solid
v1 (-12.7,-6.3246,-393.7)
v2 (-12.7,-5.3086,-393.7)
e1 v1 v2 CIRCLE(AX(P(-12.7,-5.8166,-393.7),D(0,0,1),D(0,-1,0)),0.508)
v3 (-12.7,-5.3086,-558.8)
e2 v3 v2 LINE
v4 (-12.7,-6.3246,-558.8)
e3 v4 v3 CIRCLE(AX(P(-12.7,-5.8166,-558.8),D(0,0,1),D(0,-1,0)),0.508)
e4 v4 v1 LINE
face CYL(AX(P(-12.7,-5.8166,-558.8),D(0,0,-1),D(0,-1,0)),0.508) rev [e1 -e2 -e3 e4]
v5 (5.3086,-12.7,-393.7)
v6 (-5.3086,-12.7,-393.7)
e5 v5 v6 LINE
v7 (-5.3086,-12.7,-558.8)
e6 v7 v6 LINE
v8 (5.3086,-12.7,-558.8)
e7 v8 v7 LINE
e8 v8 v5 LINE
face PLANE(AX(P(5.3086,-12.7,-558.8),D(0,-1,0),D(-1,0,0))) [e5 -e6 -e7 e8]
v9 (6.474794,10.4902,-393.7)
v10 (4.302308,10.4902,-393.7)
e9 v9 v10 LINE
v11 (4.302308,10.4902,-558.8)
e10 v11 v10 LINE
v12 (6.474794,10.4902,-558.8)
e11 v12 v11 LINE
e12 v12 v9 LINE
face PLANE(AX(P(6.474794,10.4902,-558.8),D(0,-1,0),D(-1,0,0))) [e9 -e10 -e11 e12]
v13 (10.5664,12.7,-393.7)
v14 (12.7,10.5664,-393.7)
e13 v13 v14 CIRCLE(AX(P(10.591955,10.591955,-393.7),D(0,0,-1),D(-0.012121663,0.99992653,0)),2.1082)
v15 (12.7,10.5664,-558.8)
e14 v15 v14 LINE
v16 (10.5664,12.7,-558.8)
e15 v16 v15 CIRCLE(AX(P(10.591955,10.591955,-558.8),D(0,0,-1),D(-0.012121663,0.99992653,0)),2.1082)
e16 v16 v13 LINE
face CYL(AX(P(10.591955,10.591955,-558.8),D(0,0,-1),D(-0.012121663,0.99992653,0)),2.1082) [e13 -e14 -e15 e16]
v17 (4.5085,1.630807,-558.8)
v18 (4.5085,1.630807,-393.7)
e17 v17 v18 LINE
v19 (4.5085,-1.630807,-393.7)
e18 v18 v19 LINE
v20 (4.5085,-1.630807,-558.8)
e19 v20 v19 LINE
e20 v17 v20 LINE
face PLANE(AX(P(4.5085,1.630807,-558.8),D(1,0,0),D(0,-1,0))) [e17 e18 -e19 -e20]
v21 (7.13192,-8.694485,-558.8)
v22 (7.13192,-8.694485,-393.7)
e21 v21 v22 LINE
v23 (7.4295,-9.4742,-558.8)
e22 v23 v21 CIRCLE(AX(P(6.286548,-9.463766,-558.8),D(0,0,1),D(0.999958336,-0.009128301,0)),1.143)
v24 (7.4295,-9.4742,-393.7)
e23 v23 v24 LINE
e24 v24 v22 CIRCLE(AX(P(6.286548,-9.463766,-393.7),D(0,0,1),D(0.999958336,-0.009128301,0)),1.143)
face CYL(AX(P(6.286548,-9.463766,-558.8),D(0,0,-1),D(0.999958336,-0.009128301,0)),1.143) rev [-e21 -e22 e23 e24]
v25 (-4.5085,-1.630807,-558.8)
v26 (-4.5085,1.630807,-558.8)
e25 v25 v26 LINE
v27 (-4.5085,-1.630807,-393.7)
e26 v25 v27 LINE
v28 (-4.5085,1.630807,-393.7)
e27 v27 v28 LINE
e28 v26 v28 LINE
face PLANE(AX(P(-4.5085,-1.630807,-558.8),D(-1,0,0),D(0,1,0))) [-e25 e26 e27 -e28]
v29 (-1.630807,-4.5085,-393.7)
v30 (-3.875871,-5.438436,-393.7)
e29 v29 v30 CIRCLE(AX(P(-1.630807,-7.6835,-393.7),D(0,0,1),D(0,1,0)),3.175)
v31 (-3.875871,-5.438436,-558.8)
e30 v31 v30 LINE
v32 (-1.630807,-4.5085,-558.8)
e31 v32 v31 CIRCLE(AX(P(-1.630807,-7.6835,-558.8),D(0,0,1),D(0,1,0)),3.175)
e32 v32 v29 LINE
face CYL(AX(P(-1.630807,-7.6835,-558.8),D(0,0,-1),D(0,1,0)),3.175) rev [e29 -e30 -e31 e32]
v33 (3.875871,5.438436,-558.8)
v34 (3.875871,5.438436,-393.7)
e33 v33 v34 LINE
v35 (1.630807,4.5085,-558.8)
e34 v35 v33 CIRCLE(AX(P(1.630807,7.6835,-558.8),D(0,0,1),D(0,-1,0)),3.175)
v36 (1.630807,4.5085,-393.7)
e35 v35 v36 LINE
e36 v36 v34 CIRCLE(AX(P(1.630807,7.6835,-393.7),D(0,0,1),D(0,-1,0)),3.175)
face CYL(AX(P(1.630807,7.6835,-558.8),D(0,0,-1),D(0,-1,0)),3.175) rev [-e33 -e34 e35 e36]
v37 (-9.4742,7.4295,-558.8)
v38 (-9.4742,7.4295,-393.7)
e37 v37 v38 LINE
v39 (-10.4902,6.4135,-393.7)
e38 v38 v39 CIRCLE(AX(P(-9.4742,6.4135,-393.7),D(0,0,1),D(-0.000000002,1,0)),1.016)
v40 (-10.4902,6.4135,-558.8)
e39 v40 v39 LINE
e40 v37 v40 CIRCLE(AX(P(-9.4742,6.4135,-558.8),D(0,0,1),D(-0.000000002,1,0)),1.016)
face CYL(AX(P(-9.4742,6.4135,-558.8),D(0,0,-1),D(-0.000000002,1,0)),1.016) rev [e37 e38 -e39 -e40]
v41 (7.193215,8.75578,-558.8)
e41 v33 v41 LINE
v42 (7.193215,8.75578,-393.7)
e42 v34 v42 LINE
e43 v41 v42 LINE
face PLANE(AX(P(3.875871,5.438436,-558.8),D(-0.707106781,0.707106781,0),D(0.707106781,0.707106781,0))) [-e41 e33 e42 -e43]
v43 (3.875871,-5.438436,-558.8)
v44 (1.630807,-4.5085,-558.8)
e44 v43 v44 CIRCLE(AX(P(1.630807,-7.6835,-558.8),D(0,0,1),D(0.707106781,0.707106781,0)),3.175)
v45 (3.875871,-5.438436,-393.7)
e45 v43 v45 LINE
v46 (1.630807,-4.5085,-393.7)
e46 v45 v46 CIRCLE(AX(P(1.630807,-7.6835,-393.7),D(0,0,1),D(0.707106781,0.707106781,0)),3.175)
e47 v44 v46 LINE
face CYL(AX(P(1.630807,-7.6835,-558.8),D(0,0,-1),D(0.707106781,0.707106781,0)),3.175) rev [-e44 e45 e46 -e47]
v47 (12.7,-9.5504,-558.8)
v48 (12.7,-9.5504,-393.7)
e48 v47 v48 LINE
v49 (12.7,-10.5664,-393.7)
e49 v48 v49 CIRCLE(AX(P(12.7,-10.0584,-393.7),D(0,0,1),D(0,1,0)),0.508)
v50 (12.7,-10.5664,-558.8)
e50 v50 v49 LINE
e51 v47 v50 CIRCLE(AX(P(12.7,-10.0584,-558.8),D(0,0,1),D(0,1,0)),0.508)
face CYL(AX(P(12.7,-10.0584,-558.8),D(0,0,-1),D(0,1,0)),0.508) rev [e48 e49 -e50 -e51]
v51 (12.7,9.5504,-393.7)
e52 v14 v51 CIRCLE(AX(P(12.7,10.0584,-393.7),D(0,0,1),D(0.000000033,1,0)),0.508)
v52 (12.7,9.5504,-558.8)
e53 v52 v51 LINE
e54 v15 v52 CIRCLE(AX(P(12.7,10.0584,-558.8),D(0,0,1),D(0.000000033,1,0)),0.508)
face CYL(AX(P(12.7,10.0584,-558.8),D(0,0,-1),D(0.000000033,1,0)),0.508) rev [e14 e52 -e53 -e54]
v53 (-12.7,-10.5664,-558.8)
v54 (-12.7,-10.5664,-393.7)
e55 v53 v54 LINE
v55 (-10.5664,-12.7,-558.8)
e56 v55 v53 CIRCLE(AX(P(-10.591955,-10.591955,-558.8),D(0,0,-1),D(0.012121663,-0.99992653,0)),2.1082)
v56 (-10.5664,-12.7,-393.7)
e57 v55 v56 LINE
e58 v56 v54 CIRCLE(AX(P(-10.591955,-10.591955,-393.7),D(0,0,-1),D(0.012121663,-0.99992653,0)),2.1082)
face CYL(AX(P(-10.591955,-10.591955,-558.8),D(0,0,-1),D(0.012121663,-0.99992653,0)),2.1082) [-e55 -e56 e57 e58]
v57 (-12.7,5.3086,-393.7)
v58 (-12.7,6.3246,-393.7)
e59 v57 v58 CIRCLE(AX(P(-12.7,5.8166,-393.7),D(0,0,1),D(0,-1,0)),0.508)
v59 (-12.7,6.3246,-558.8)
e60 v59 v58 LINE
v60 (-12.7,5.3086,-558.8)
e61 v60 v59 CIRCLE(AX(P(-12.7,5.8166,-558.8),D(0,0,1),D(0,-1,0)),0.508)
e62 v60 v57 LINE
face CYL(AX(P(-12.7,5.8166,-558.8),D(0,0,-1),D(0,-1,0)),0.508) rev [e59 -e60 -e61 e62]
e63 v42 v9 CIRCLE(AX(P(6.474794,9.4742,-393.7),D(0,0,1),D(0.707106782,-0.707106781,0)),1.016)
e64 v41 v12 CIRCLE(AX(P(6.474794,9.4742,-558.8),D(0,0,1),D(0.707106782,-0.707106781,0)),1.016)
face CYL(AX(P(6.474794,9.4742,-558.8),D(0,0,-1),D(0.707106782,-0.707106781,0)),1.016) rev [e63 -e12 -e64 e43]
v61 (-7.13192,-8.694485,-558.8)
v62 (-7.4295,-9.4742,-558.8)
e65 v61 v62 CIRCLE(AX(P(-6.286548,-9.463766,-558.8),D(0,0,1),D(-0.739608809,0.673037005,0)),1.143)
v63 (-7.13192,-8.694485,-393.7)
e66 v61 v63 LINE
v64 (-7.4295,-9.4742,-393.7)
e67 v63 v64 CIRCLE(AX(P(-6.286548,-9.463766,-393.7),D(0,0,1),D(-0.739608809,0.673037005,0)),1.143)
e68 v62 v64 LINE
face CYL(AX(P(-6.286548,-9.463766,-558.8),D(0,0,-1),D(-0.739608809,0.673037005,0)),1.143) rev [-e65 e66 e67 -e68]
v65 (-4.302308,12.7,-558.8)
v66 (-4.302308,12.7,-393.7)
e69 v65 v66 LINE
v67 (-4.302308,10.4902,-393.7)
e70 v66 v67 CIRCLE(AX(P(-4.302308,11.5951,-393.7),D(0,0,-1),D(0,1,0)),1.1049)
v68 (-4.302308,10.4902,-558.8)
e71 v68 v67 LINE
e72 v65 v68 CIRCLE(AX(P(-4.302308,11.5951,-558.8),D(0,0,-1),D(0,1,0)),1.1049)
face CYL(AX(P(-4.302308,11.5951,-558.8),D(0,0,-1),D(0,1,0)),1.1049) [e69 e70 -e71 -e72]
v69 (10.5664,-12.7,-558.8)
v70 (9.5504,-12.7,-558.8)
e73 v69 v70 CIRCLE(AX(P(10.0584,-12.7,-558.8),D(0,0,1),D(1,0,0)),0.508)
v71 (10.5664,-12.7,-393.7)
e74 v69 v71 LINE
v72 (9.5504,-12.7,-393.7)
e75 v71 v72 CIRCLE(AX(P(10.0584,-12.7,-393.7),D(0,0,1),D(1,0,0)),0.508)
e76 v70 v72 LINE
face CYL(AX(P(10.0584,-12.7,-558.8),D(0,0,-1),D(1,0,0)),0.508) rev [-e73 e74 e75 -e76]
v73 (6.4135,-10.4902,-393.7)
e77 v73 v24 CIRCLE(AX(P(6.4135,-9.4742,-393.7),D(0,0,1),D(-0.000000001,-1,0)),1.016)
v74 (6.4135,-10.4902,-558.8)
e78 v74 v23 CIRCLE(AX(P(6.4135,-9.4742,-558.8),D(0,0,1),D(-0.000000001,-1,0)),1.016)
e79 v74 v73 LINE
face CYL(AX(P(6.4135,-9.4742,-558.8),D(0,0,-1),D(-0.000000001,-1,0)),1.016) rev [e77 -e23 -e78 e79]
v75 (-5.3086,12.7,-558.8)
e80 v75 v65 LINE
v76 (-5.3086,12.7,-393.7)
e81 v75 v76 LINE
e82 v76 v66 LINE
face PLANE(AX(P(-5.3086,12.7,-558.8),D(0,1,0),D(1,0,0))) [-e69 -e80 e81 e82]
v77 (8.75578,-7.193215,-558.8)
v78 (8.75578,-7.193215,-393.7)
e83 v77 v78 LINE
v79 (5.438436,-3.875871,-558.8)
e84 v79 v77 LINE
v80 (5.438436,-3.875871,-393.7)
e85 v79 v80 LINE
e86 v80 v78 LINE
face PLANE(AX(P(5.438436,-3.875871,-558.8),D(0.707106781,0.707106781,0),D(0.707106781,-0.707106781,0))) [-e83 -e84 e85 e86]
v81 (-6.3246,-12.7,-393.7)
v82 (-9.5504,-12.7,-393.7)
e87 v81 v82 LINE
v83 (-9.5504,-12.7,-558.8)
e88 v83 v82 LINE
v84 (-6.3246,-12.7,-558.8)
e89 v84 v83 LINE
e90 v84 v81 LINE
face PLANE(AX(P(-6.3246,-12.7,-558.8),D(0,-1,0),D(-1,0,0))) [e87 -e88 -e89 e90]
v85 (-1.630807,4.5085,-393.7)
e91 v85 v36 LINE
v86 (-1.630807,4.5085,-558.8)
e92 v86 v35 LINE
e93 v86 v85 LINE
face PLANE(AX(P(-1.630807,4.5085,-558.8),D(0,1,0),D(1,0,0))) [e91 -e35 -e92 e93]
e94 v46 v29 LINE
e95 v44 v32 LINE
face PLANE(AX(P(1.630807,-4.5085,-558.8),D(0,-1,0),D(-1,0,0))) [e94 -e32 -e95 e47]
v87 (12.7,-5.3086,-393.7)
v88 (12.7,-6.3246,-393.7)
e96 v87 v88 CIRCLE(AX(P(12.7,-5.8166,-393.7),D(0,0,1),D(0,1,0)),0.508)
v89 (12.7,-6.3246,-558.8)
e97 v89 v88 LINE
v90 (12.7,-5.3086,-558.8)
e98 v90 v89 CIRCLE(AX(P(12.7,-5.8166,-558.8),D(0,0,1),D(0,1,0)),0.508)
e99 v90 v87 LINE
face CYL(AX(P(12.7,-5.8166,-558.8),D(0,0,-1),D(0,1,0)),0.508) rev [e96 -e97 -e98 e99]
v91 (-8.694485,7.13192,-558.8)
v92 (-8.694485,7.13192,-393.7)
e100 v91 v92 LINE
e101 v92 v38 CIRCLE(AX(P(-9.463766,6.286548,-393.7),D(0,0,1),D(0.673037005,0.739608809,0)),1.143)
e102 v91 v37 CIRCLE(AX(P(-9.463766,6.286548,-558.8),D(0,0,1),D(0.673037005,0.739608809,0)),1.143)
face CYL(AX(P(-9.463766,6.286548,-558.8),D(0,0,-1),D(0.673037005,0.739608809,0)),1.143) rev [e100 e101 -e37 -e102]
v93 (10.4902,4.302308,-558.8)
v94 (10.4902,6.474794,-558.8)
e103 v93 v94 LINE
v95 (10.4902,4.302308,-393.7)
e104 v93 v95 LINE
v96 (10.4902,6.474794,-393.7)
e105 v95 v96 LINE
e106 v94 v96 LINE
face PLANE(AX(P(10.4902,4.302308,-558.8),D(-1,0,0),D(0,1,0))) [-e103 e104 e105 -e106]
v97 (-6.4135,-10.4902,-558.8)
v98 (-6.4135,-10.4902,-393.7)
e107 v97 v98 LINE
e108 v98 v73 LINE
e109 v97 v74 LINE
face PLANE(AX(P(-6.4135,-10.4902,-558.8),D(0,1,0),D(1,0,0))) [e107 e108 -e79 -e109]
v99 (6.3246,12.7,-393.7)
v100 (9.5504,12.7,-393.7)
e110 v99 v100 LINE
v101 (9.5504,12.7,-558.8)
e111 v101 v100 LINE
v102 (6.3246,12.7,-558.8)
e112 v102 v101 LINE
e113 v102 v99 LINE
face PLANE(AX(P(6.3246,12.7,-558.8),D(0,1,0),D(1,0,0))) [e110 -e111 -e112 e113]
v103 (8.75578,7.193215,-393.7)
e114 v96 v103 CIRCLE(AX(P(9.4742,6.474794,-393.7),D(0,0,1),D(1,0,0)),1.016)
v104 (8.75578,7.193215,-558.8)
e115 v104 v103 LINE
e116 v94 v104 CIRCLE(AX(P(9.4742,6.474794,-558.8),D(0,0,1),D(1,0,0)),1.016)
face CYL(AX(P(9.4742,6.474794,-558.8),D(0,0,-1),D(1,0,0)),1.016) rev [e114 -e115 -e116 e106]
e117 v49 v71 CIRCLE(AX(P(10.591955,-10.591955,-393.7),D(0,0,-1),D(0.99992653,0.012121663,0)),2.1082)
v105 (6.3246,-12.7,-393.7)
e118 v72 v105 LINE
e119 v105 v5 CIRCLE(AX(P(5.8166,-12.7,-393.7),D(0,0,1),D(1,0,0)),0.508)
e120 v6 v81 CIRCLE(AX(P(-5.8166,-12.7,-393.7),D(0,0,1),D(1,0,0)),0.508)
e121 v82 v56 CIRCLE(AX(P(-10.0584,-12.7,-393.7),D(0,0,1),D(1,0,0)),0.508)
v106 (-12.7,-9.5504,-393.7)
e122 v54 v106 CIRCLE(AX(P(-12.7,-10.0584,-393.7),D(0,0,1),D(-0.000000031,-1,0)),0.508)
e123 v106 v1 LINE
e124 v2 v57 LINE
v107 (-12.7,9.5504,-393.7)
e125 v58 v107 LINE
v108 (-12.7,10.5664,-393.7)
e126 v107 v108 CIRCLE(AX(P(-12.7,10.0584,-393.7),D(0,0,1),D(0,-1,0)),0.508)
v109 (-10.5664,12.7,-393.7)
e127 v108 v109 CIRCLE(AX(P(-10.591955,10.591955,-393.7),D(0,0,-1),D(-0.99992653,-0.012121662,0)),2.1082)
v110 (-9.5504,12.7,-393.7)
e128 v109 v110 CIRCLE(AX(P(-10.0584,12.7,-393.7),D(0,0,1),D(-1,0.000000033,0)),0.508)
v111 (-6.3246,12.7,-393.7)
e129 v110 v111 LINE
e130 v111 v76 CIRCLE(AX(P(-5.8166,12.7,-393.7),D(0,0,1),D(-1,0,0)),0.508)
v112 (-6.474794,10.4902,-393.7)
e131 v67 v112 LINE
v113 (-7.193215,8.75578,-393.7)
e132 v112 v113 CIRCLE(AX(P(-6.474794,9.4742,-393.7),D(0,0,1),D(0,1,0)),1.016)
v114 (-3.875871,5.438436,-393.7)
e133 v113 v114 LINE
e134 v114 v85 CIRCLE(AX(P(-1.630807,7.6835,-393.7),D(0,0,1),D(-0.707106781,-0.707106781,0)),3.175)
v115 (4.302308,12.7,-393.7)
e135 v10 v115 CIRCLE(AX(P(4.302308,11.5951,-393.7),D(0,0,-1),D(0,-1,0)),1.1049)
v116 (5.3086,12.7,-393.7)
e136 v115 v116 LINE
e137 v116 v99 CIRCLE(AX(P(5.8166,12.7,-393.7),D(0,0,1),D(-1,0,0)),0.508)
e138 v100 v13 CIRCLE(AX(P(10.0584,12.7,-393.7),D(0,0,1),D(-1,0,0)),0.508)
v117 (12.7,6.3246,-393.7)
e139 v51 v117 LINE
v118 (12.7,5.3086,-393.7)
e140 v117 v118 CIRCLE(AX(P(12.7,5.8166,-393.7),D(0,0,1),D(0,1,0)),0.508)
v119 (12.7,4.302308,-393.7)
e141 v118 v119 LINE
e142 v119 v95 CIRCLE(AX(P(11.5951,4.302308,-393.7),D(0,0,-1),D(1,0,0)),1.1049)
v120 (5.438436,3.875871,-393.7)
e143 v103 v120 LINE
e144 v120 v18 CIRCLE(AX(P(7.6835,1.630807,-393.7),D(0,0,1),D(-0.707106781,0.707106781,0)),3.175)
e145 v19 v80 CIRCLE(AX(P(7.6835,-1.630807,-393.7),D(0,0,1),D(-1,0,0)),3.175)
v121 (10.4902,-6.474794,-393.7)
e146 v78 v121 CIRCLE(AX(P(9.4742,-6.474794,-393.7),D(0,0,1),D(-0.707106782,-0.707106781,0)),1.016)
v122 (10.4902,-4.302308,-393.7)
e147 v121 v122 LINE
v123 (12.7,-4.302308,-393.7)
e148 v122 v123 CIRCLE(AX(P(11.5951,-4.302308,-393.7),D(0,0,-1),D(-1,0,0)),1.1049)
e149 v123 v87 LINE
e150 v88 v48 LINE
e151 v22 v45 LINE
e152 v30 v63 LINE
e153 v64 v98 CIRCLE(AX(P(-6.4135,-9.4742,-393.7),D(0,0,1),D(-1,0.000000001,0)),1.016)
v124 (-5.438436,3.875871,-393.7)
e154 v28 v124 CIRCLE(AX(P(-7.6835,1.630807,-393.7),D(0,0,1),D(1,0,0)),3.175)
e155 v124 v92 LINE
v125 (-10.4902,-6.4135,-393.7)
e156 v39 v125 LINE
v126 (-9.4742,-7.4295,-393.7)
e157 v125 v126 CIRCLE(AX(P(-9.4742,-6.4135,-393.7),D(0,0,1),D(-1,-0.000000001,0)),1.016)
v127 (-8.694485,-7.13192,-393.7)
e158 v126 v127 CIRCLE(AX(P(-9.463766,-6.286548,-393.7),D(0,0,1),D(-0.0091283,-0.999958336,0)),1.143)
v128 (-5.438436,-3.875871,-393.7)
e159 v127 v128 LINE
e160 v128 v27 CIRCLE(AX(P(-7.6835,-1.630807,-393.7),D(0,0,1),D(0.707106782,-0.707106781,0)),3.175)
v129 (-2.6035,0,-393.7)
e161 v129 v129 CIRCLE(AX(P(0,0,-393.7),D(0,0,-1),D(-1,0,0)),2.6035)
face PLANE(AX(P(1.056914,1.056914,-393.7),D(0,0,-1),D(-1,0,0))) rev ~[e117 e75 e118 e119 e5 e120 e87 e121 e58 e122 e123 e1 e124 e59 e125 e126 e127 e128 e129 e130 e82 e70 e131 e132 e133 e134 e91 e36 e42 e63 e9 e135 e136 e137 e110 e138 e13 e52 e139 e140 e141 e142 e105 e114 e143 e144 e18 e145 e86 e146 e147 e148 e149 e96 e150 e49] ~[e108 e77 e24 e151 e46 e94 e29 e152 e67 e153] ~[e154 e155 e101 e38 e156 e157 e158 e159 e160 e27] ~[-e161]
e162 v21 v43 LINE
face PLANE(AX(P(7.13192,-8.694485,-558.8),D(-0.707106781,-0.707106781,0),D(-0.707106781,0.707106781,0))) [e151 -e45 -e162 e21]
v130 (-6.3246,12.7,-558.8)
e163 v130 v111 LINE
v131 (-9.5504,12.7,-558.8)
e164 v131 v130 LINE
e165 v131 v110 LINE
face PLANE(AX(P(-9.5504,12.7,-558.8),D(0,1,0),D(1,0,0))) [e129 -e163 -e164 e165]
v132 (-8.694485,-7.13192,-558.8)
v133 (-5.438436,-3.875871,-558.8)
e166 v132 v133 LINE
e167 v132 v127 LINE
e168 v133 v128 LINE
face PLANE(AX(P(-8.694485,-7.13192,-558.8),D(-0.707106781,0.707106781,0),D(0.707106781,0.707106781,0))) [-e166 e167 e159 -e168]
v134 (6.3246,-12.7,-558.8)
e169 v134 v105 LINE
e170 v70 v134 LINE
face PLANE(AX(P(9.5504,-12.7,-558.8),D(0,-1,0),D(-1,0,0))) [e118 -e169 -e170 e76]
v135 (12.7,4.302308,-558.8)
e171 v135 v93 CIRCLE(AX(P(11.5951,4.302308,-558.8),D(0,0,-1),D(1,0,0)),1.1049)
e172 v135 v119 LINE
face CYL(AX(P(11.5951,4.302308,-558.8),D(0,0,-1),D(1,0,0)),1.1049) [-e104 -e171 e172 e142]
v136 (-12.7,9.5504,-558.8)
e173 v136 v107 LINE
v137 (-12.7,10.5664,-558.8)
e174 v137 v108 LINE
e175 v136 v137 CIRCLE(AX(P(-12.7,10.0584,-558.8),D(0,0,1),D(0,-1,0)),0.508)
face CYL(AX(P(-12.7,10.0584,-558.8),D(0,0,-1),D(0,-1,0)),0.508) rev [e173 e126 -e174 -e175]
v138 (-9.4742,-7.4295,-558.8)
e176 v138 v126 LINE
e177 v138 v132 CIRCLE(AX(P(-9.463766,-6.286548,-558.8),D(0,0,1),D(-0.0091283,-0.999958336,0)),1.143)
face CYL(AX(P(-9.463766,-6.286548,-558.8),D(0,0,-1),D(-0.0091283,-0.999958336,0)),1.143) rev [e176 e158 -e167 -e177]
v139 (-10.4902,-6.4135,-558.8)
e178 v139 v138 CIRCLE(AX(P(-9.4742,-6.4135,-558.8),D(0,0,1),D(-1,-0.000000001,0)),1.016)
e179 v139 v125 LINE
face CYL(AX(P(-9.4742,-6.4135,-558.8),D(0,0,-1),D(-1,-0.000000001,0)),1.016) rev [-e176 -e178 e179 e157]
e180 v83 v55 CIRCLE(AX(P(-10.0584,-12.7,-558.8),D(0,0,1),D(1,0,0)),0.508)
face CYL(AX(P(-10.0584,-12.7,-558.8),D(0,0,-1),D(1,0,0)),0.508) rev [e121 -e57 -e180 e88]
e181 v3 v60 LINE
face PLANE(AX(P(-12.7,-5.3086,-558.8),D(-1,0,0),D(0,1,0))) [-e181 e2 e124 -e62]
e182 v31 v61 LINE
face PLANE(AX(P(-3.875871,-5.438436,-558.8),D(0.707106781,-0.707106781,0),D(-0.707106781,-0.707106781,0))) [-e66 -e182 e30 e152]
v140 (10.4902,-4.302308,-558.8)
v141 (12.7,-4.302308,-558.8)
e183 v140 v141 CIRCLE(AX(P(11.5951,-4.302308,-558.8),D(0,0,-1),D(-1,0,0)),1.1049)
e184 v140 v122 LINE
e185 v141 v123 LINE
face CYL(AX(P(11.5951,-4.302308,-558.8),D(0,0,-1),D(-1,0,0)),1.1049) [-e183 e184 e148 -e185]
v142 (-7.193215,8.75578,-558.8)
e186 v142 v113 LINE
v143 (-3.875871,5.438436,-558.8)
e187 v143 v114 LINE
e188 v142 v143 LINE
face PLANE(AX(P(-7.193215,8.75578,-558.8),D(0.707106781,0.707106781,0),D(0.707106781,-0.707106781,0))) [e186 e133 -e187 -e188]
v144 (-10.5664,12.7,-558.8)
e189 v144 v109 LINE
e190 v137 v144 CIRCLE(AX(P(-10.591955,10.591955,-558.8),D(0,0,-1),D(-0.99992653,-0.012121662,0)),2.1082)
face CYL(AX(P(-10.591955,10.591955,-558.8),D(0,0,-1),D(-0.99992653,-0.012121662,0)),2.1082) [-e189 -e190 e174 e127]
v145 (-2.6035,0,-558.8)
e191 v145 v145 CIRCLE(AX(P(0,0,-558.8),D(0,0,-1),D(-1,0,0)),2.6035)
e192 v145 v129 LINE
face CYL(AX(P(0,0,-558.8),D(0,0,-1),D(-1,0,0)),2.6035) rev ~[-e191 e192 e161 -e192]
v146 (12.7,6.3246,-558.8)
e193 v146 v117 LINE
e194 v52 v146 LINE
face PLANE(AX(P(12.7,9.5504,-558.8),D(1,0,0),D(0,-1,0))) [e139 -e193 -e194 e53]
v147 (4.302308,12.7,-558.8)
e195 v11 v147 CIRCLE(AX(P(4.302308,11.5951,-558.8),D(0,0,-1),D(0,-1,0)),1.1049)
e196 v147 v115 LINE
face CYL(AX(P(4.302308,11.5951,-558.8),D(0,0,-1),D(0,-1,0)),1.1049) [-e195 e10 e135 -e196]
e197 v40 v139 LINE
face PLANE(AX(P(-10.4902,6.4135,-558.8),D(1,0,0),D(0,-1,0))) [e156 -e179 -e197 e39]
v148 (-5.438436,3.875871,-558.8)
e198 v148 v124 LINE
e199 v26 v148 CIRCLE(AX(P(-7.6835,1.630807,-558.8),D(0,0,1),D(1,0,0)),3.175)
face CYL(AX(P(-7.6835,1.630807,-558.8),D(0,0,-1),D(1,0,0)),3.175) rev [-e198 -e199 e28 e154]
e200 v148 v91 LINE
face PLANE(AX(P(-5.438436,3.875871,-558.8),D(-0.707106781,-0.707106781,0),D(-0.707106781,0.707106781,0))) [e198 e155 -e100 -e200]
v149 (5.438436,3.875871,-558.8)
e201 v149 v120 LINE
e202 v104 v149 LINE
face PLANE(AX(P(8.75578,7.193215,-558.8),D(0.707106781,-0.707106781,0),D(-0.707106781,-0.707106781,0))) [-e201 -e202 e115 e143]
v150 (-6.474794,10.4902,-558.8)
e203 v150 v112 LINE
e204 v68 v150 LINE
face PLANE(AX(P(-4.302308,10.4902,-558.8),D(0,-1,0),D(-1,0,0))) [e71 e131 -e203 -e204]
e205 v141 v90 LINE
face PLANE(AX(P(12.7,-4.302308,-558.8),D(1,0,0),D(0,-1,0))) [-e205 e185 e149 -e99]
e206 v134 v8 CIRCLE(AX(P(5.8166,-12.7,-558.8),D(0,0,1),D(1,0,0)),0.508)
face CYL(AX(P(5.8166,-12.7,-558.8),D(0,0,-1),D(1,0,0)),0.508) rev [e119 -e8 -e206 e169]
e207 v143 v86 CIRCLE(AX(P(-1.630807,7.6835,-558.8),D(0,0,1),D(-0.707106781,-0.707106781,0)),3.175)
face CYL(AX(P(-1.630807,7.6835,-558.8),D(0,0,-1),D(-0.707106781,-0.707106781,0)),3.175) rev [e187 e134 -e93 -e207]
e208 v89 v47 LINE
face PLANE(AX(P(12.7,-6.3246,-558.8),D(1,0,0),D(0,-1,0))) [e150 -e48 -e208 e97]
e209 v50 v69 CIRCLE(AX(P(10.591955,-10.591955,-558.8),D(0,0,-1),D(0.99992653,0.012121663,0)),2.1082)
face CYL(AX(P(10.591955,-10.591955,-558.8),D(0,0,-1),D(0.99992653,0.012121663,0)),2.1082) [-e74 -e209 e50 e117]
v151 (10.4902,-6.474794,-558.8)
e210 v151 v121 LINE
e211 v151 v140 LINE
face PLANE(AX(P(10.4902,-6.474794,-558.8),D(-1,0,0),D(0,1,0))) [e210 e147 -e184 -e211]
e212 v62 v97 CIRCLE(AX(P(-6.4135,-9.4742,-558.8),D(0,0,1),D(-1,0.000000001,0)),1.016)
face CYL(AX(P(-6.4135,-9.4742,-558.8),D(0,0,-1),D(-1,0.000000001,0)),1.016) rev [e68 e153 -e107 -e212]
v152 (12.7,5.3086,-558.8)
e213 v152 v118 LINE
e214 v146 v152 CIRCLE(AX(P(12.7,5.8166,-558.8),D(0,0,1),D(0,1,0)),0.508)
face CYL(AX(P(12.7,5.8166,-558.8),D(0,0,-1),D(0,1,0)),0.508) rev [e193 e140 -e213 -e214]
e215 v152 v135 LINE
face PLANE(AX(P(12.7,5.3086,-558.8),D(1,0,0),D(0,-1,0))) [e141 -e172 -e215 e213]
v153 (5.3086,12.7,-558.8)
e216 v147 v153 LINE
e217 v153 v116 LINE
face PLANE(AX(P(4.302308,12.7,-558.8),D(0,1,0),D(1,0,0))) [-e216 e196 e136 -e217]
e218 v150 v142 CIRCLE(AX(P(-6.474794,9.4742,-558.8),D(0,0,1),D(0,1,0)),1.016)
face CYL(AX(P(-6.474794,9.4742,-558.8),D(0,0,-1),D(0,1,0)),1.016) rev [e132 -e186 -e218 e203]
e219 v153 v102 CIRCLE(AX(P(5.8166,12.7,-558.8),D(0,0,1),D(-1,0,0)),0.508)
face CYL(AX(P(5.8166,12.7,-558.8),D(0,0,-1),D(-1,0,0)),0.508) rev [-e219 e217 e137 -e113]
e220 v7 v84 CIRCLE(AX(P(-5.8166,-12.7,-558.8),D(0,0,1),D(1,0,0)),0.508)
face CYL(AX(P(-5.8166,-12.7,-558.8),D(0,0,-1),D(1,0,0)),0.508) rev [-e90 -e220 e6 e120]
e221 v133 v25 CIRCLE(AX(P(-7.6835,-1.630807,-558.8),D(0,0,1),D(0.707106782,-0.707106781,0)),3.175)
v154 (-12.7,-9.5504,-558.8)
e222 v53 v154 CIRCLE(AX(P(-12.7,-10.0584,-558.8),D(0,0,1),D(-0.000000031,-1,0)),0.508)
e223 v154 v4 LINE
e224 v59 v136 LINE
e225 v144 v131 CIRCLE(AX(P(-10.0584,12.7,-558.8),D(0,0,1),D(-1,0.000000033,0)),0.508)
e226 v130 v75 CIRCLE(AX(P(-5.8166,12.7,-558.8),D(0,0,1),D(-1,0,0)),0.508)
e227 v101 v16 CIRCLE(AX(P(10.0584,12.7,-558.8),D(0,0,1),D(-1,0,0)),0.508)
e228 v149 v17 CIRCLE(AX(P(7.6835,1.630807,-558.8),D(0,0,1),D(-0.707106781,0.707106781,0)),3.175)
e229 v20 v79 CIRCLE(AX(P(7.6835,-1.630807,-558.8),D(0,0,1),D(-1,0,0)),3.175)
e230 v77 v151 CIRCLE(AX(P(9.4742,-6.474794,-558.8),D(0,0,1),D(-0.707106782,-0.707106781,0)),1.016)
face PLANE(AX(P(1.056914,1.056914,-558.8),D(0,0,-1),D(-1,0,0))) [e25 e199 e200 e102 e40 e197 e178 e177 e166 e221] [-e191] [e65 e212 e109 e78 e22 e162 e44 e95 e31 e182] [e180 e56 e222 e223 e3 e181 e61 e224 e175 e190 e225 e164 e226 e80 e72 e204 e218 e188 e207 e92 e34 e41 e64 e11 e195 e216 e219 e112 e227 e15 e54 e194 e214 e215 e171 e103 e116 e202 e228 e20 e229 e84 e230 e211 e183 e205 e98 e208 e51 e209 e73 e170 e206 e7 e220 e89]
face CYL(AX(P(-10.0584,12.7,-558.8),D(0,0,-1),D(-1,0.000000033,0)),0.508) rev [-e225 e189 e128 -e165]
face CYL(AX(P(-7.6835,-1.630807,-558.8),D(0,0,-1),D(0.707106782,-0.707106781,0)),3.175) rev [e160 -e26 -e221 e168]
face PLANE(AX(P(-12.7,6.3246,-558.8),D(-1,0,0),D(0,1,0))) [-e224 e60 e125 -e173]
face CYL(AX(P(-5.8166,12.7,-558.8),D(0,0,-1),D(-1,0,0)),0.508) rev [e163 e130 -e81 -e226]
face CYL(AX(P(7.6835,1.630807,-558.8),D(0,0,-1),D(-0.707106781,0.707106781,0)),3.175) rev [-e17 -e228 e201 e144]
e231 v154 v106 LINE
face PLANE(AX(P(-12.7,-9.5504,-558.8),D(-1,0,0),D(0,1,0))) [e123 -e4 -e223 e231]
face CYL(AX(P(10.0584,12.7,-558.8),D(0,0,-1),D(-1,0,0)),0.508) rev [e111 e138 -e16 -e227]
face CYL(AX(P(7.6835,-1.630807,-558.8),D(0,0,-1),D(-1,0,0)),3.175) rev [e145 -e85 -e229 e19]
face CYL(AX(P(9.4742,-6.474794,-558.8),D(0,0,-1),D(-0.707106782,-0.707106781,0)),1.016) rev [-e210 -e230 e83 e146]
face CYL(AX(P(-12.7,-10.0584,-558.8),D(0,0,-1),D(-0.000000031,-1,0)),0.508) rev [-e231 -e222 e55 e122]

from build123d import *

# Parameters (mm, degrees)
SKETCH1_R           = 2.6035
BOSS_EXTRUDE1_DEPTH = 165.1


with BuildPart() as part:
    # Sketch1 → Boss-Extrude1 (new body)
    with BuildSketch(Plane(origin=(0, 0, -558.8), x_dir=(-1, 0, 0), z_dir=(0, 0, -1))):
        with BuildLine():
            Line((12.699999967, -9.5504), (12.699999967, -6.3246))
            ThreePointArc((12.699999967, -6.3246), (12.191999967, -5.8166), (12.699999967, -5.3086))
            Line((12.699999967, -5.3086), (12.699999967, 5.3086))
            ThreePointArc((12.699999967, 5.3086), (12.191999967, 5.8166), (12.699999967, 6.3246))
            Line((12.699999967, 6.3246), (12.699999967, 9.550399967))
            ThreePointArc((12.699999967, 9.550399967), (12.191999934, 10.058400016), (12.699999999, 10.566400033))
            ThreePointArc((12.699999999, 10.566400033), (12.082677404, 12.082677438), (10.566399999, 12.700000033))
            ThreePointArc((10.566399999, 12.700000033), (10.058400007, 12.192000016), (9.550399999, 12.700000016))
            Line((9.550399999, 12.700000016), (6.324599999, 12.700000016))
            ThreePointArc((6.324599999, 12.700000016), (5.816599999, 12.192000016), (5.308599999, 12.700000016))
            Line((5.308599999, 12.700000016), (4.302307888, 12.700000016))
            ThreePointArc((4.302307888, 12.700000016), (3.197407888, 11.595100016), (4.302307888, 10.490200016))
            Line((4.302307888, 10.490200016), (6.474794464, 10.490200016))
            ThreePointArc((6.474794464, 10.490200016), (7.413456072, 9.863006381), (7.193214956, 8.755779521))
            Line((7.193214956, 8.755779521), (3.875871421, 5.438435986))
            ThreePointArc((3.875871421, 5.438435986), (2.845827288, 4.7501825), (1.63080739, 4.508500016))
            Line((1.63080739, 4.508500016), (-1.630807376, 4.508500016))
            ThreePointArc((-1.630807376, 4.508500016), (-2.845827273, 4.7501825), (-3.875871406, 5.438435986))
            Line((-3.875871406, 5.438435986), (-7.193214947, 8.755779526))
            ThreePointArc((-7.193214947, 8.755779526), (-7.413456062, 9.863006383), (-6.474794457, 10.490200016))
            Line((-6.474794457, 10.490200016), (-4.302307919, 10.490200016))
            ThreePointArc((-4.302307919, 10.490200016), (-3.197407919, 11.595100016), (-4.302307919, 12.700000016))
            Line((-4.302307919, 12.700000016), (-5.308600001, 12.700000016))
            ThreePointArc((-5.308600001, 12.700000016), (-5.816600001, 12.192000016), (-6.324600001, 12.700000016))
            Line((-6.324600001, 12.700000016), (-9.550400001, 12.700000016))
            ThreePointArc((-9.550400001, 12.700000016), (-10.058400001, 12.192000016), (-10.566400001, 12.700000016))
            ThreePointArc((-10.566400001, 12.700000016), (-12.082677418, 12.082677417), (-12.700000017, 10.5664))
            ThreePointArc((-12.700000017, 10.5664), (-12.192, 10.058400008), (-12.7, 9.5504))
            Line((-12.7, 9.5504), (-12.7, 6.3246))
            ThreePointArc((-12.7, 6.3246), (-12.192, 5.8166), (-12.7, 5.3086))
            Line((-12.7, 5.3086), (-12.7, 4.302307889))
            ThreePointArc((-12.7, 4.302307889), (-11.5951, 3.197407889), (-10.4902, 4.302307889))
            Line((-10.4902, 4.302307889), (-10.4902, 6.474794456))
            ThreePointArc((-10.4902, 6.474794456), (-9.863006367, 7.413456061), (-8.75577951, 7.193214945))
            Line((-8.75577951, 7.193214945), (-5.43843597, 3.875871405))
            ThreePointArc((-5.43843597, 3.875871405), (-4.750182484, 2.845827272), (-4.5085, 1.630807374))
            Line((-4.5085, 1.630807374), (-4.5085, -1.630807374))
            ThreePointArc((-4.5085, -1.630807374), (-4.750182484, -2.845827272), (-5.43843597, -3.875871405))
            Line((-5.43843597, -3.875871405), (-8.75577951, -7.193214945))
            ThreePointArc((-8.75577951, -7.193214945), (-9.863006367, -7.413456061), (-10.4902, -6.474794456))
            Line((-10.4902, -6.474794456), (-10.4902, -4.302307918))
            ThreePointArc((-10.4902, -4.302307918), (-11.5951, -3.197407918), (-12.7, -4.302307918))
            Line((-12.7, -4.302307918), (-12.7, -5.3086))
            ThreePointArc((-12.7, -5.3086), (-12.192, -5.8166), (-12.7, -6.3246))
            Line((-12.7, -6.3246), (-12.7, -9.5504))
            ThreePointArc((-12.7, -9.5504), (-12.192, -10.058400008), (-12.700000017, -10.5664))
            ThreePointArc((-12.700000017, -10.5664), (-12.082677422, -12.082677406), (-10.566400017, -12.7))
            ThreePointArc((-10.566400017, -12.7), (-10.058400017, -12.192), (-9.550400017, -12.7))
            Line((-9.550400017, -12.7), (-6.324600017, -12.7))
            ThreePointArc((-6.324600017, -12.7), (-5.816600017, -12.192), (-5.308600017, -12.7))
            Line((-5.308600017, -12.7), (5.308599983, -12.7))
            ThreePointArc((5.308599983, -12.7), (5.816599983, -12.192), (6.324599983, -12.7))
            Line((6.324599983, -12.7), (9.550399983, -12.7))
            ThreePointArc((9.550399983, -12.7), (10.058399983, -12.192), (10.566399983, -12.7))
            ThreePointArc((10.566399983, -12.7), (12.082677389, -12.082677406), (12.699999983, -10.5664))
            ThreePointArc((12.699999983, -10.5664), (12.191999967, -10.058400008), (12.699999967, -9.5504))
        make_face()
        Circle(SKETCH1_R, mode=Mode.SUBTRACT)
        with BuildLine():
            Line((3.875871405, -5.43843597), (7.13192049, -8.694485055))
            ThreePointArc((7.13192049, -8.694485055), (7.35441848, -9.056211656), (7.4295, -9.4742))
            ThreePointArc((7.4295, -9.4742), (7.13192049, -10.19262049), (6.4135, -10.4902))
            Line((6.4135, -10.4902), (-6.4135, -10.4902))
            ThreePointArc((-6.4135, -10.4902), (-7.13192049, -10.19262049), (-7.4295, -9.4742))
            ThreePointArc((-7.4295, -9.4742), (-7.35441848, -9.056211656), (-7.13192049, -8.694485055))
            Line((-7.13192049, -8.694485055), (-3.875871405, -5.43843597))
            ThreePointArc((-3.875871405, -5.43843597), (-2.845827272, -4.750182484), (-1.630807374, -4.5085))
            Line((-1.630807374, -4.5085), (1.630807374, -4.5085))
            ThreePointArc((1.630807374, -4.5085), (2.845827272, -4.750182484), (3.875871405, -5.43843597))
        make_face(mode=Mode.SUBTRACT)
        with BuildLine():
            Line((10.490199999, 6.4135), (10.490199999, -6.413499984))
            ThreePointArc((10.490199999, -6.413499984), (10.192620488, -7.131920474), (9.474199999, -7.429499984))
            ThreePointArc((9.474199999, -7.429499984), (9.056211655, -7.354418464), (8.694485053, -7.131920474))
            Line((8.694485053, -7.131920474), (5.438435968, -3.875871389))
            ThreePointArc((5.438435968, -3.875871389), (4.750182483, -2.845827256), (4.508499999, -1.630807359))
            Line((4.508499999, -1.630807359), (4.508499999, 1.630807373))
            ThreePointArc((4.508499999, 1.630807373), (4.750182483, 2.845827271), (5.438435968, 3.875871403))
            Line((5.438435968, 3.875871403), (8.694485055, 7.13192049))
            ThreePointArc((8.694485055, 7.13192049), (9.056211656, 7.35441848), (9.4742, 7.4295))
            ThreePointArc((9.4742, 7.4295), (10.192620489, 7.131920489), (10.490199999, 6.4135))
        make_face(mode=Mode.SUBTRACT)
    extrude(amount=-BOSS_EXTRUDE1_DEPTH)


solid = part.part
